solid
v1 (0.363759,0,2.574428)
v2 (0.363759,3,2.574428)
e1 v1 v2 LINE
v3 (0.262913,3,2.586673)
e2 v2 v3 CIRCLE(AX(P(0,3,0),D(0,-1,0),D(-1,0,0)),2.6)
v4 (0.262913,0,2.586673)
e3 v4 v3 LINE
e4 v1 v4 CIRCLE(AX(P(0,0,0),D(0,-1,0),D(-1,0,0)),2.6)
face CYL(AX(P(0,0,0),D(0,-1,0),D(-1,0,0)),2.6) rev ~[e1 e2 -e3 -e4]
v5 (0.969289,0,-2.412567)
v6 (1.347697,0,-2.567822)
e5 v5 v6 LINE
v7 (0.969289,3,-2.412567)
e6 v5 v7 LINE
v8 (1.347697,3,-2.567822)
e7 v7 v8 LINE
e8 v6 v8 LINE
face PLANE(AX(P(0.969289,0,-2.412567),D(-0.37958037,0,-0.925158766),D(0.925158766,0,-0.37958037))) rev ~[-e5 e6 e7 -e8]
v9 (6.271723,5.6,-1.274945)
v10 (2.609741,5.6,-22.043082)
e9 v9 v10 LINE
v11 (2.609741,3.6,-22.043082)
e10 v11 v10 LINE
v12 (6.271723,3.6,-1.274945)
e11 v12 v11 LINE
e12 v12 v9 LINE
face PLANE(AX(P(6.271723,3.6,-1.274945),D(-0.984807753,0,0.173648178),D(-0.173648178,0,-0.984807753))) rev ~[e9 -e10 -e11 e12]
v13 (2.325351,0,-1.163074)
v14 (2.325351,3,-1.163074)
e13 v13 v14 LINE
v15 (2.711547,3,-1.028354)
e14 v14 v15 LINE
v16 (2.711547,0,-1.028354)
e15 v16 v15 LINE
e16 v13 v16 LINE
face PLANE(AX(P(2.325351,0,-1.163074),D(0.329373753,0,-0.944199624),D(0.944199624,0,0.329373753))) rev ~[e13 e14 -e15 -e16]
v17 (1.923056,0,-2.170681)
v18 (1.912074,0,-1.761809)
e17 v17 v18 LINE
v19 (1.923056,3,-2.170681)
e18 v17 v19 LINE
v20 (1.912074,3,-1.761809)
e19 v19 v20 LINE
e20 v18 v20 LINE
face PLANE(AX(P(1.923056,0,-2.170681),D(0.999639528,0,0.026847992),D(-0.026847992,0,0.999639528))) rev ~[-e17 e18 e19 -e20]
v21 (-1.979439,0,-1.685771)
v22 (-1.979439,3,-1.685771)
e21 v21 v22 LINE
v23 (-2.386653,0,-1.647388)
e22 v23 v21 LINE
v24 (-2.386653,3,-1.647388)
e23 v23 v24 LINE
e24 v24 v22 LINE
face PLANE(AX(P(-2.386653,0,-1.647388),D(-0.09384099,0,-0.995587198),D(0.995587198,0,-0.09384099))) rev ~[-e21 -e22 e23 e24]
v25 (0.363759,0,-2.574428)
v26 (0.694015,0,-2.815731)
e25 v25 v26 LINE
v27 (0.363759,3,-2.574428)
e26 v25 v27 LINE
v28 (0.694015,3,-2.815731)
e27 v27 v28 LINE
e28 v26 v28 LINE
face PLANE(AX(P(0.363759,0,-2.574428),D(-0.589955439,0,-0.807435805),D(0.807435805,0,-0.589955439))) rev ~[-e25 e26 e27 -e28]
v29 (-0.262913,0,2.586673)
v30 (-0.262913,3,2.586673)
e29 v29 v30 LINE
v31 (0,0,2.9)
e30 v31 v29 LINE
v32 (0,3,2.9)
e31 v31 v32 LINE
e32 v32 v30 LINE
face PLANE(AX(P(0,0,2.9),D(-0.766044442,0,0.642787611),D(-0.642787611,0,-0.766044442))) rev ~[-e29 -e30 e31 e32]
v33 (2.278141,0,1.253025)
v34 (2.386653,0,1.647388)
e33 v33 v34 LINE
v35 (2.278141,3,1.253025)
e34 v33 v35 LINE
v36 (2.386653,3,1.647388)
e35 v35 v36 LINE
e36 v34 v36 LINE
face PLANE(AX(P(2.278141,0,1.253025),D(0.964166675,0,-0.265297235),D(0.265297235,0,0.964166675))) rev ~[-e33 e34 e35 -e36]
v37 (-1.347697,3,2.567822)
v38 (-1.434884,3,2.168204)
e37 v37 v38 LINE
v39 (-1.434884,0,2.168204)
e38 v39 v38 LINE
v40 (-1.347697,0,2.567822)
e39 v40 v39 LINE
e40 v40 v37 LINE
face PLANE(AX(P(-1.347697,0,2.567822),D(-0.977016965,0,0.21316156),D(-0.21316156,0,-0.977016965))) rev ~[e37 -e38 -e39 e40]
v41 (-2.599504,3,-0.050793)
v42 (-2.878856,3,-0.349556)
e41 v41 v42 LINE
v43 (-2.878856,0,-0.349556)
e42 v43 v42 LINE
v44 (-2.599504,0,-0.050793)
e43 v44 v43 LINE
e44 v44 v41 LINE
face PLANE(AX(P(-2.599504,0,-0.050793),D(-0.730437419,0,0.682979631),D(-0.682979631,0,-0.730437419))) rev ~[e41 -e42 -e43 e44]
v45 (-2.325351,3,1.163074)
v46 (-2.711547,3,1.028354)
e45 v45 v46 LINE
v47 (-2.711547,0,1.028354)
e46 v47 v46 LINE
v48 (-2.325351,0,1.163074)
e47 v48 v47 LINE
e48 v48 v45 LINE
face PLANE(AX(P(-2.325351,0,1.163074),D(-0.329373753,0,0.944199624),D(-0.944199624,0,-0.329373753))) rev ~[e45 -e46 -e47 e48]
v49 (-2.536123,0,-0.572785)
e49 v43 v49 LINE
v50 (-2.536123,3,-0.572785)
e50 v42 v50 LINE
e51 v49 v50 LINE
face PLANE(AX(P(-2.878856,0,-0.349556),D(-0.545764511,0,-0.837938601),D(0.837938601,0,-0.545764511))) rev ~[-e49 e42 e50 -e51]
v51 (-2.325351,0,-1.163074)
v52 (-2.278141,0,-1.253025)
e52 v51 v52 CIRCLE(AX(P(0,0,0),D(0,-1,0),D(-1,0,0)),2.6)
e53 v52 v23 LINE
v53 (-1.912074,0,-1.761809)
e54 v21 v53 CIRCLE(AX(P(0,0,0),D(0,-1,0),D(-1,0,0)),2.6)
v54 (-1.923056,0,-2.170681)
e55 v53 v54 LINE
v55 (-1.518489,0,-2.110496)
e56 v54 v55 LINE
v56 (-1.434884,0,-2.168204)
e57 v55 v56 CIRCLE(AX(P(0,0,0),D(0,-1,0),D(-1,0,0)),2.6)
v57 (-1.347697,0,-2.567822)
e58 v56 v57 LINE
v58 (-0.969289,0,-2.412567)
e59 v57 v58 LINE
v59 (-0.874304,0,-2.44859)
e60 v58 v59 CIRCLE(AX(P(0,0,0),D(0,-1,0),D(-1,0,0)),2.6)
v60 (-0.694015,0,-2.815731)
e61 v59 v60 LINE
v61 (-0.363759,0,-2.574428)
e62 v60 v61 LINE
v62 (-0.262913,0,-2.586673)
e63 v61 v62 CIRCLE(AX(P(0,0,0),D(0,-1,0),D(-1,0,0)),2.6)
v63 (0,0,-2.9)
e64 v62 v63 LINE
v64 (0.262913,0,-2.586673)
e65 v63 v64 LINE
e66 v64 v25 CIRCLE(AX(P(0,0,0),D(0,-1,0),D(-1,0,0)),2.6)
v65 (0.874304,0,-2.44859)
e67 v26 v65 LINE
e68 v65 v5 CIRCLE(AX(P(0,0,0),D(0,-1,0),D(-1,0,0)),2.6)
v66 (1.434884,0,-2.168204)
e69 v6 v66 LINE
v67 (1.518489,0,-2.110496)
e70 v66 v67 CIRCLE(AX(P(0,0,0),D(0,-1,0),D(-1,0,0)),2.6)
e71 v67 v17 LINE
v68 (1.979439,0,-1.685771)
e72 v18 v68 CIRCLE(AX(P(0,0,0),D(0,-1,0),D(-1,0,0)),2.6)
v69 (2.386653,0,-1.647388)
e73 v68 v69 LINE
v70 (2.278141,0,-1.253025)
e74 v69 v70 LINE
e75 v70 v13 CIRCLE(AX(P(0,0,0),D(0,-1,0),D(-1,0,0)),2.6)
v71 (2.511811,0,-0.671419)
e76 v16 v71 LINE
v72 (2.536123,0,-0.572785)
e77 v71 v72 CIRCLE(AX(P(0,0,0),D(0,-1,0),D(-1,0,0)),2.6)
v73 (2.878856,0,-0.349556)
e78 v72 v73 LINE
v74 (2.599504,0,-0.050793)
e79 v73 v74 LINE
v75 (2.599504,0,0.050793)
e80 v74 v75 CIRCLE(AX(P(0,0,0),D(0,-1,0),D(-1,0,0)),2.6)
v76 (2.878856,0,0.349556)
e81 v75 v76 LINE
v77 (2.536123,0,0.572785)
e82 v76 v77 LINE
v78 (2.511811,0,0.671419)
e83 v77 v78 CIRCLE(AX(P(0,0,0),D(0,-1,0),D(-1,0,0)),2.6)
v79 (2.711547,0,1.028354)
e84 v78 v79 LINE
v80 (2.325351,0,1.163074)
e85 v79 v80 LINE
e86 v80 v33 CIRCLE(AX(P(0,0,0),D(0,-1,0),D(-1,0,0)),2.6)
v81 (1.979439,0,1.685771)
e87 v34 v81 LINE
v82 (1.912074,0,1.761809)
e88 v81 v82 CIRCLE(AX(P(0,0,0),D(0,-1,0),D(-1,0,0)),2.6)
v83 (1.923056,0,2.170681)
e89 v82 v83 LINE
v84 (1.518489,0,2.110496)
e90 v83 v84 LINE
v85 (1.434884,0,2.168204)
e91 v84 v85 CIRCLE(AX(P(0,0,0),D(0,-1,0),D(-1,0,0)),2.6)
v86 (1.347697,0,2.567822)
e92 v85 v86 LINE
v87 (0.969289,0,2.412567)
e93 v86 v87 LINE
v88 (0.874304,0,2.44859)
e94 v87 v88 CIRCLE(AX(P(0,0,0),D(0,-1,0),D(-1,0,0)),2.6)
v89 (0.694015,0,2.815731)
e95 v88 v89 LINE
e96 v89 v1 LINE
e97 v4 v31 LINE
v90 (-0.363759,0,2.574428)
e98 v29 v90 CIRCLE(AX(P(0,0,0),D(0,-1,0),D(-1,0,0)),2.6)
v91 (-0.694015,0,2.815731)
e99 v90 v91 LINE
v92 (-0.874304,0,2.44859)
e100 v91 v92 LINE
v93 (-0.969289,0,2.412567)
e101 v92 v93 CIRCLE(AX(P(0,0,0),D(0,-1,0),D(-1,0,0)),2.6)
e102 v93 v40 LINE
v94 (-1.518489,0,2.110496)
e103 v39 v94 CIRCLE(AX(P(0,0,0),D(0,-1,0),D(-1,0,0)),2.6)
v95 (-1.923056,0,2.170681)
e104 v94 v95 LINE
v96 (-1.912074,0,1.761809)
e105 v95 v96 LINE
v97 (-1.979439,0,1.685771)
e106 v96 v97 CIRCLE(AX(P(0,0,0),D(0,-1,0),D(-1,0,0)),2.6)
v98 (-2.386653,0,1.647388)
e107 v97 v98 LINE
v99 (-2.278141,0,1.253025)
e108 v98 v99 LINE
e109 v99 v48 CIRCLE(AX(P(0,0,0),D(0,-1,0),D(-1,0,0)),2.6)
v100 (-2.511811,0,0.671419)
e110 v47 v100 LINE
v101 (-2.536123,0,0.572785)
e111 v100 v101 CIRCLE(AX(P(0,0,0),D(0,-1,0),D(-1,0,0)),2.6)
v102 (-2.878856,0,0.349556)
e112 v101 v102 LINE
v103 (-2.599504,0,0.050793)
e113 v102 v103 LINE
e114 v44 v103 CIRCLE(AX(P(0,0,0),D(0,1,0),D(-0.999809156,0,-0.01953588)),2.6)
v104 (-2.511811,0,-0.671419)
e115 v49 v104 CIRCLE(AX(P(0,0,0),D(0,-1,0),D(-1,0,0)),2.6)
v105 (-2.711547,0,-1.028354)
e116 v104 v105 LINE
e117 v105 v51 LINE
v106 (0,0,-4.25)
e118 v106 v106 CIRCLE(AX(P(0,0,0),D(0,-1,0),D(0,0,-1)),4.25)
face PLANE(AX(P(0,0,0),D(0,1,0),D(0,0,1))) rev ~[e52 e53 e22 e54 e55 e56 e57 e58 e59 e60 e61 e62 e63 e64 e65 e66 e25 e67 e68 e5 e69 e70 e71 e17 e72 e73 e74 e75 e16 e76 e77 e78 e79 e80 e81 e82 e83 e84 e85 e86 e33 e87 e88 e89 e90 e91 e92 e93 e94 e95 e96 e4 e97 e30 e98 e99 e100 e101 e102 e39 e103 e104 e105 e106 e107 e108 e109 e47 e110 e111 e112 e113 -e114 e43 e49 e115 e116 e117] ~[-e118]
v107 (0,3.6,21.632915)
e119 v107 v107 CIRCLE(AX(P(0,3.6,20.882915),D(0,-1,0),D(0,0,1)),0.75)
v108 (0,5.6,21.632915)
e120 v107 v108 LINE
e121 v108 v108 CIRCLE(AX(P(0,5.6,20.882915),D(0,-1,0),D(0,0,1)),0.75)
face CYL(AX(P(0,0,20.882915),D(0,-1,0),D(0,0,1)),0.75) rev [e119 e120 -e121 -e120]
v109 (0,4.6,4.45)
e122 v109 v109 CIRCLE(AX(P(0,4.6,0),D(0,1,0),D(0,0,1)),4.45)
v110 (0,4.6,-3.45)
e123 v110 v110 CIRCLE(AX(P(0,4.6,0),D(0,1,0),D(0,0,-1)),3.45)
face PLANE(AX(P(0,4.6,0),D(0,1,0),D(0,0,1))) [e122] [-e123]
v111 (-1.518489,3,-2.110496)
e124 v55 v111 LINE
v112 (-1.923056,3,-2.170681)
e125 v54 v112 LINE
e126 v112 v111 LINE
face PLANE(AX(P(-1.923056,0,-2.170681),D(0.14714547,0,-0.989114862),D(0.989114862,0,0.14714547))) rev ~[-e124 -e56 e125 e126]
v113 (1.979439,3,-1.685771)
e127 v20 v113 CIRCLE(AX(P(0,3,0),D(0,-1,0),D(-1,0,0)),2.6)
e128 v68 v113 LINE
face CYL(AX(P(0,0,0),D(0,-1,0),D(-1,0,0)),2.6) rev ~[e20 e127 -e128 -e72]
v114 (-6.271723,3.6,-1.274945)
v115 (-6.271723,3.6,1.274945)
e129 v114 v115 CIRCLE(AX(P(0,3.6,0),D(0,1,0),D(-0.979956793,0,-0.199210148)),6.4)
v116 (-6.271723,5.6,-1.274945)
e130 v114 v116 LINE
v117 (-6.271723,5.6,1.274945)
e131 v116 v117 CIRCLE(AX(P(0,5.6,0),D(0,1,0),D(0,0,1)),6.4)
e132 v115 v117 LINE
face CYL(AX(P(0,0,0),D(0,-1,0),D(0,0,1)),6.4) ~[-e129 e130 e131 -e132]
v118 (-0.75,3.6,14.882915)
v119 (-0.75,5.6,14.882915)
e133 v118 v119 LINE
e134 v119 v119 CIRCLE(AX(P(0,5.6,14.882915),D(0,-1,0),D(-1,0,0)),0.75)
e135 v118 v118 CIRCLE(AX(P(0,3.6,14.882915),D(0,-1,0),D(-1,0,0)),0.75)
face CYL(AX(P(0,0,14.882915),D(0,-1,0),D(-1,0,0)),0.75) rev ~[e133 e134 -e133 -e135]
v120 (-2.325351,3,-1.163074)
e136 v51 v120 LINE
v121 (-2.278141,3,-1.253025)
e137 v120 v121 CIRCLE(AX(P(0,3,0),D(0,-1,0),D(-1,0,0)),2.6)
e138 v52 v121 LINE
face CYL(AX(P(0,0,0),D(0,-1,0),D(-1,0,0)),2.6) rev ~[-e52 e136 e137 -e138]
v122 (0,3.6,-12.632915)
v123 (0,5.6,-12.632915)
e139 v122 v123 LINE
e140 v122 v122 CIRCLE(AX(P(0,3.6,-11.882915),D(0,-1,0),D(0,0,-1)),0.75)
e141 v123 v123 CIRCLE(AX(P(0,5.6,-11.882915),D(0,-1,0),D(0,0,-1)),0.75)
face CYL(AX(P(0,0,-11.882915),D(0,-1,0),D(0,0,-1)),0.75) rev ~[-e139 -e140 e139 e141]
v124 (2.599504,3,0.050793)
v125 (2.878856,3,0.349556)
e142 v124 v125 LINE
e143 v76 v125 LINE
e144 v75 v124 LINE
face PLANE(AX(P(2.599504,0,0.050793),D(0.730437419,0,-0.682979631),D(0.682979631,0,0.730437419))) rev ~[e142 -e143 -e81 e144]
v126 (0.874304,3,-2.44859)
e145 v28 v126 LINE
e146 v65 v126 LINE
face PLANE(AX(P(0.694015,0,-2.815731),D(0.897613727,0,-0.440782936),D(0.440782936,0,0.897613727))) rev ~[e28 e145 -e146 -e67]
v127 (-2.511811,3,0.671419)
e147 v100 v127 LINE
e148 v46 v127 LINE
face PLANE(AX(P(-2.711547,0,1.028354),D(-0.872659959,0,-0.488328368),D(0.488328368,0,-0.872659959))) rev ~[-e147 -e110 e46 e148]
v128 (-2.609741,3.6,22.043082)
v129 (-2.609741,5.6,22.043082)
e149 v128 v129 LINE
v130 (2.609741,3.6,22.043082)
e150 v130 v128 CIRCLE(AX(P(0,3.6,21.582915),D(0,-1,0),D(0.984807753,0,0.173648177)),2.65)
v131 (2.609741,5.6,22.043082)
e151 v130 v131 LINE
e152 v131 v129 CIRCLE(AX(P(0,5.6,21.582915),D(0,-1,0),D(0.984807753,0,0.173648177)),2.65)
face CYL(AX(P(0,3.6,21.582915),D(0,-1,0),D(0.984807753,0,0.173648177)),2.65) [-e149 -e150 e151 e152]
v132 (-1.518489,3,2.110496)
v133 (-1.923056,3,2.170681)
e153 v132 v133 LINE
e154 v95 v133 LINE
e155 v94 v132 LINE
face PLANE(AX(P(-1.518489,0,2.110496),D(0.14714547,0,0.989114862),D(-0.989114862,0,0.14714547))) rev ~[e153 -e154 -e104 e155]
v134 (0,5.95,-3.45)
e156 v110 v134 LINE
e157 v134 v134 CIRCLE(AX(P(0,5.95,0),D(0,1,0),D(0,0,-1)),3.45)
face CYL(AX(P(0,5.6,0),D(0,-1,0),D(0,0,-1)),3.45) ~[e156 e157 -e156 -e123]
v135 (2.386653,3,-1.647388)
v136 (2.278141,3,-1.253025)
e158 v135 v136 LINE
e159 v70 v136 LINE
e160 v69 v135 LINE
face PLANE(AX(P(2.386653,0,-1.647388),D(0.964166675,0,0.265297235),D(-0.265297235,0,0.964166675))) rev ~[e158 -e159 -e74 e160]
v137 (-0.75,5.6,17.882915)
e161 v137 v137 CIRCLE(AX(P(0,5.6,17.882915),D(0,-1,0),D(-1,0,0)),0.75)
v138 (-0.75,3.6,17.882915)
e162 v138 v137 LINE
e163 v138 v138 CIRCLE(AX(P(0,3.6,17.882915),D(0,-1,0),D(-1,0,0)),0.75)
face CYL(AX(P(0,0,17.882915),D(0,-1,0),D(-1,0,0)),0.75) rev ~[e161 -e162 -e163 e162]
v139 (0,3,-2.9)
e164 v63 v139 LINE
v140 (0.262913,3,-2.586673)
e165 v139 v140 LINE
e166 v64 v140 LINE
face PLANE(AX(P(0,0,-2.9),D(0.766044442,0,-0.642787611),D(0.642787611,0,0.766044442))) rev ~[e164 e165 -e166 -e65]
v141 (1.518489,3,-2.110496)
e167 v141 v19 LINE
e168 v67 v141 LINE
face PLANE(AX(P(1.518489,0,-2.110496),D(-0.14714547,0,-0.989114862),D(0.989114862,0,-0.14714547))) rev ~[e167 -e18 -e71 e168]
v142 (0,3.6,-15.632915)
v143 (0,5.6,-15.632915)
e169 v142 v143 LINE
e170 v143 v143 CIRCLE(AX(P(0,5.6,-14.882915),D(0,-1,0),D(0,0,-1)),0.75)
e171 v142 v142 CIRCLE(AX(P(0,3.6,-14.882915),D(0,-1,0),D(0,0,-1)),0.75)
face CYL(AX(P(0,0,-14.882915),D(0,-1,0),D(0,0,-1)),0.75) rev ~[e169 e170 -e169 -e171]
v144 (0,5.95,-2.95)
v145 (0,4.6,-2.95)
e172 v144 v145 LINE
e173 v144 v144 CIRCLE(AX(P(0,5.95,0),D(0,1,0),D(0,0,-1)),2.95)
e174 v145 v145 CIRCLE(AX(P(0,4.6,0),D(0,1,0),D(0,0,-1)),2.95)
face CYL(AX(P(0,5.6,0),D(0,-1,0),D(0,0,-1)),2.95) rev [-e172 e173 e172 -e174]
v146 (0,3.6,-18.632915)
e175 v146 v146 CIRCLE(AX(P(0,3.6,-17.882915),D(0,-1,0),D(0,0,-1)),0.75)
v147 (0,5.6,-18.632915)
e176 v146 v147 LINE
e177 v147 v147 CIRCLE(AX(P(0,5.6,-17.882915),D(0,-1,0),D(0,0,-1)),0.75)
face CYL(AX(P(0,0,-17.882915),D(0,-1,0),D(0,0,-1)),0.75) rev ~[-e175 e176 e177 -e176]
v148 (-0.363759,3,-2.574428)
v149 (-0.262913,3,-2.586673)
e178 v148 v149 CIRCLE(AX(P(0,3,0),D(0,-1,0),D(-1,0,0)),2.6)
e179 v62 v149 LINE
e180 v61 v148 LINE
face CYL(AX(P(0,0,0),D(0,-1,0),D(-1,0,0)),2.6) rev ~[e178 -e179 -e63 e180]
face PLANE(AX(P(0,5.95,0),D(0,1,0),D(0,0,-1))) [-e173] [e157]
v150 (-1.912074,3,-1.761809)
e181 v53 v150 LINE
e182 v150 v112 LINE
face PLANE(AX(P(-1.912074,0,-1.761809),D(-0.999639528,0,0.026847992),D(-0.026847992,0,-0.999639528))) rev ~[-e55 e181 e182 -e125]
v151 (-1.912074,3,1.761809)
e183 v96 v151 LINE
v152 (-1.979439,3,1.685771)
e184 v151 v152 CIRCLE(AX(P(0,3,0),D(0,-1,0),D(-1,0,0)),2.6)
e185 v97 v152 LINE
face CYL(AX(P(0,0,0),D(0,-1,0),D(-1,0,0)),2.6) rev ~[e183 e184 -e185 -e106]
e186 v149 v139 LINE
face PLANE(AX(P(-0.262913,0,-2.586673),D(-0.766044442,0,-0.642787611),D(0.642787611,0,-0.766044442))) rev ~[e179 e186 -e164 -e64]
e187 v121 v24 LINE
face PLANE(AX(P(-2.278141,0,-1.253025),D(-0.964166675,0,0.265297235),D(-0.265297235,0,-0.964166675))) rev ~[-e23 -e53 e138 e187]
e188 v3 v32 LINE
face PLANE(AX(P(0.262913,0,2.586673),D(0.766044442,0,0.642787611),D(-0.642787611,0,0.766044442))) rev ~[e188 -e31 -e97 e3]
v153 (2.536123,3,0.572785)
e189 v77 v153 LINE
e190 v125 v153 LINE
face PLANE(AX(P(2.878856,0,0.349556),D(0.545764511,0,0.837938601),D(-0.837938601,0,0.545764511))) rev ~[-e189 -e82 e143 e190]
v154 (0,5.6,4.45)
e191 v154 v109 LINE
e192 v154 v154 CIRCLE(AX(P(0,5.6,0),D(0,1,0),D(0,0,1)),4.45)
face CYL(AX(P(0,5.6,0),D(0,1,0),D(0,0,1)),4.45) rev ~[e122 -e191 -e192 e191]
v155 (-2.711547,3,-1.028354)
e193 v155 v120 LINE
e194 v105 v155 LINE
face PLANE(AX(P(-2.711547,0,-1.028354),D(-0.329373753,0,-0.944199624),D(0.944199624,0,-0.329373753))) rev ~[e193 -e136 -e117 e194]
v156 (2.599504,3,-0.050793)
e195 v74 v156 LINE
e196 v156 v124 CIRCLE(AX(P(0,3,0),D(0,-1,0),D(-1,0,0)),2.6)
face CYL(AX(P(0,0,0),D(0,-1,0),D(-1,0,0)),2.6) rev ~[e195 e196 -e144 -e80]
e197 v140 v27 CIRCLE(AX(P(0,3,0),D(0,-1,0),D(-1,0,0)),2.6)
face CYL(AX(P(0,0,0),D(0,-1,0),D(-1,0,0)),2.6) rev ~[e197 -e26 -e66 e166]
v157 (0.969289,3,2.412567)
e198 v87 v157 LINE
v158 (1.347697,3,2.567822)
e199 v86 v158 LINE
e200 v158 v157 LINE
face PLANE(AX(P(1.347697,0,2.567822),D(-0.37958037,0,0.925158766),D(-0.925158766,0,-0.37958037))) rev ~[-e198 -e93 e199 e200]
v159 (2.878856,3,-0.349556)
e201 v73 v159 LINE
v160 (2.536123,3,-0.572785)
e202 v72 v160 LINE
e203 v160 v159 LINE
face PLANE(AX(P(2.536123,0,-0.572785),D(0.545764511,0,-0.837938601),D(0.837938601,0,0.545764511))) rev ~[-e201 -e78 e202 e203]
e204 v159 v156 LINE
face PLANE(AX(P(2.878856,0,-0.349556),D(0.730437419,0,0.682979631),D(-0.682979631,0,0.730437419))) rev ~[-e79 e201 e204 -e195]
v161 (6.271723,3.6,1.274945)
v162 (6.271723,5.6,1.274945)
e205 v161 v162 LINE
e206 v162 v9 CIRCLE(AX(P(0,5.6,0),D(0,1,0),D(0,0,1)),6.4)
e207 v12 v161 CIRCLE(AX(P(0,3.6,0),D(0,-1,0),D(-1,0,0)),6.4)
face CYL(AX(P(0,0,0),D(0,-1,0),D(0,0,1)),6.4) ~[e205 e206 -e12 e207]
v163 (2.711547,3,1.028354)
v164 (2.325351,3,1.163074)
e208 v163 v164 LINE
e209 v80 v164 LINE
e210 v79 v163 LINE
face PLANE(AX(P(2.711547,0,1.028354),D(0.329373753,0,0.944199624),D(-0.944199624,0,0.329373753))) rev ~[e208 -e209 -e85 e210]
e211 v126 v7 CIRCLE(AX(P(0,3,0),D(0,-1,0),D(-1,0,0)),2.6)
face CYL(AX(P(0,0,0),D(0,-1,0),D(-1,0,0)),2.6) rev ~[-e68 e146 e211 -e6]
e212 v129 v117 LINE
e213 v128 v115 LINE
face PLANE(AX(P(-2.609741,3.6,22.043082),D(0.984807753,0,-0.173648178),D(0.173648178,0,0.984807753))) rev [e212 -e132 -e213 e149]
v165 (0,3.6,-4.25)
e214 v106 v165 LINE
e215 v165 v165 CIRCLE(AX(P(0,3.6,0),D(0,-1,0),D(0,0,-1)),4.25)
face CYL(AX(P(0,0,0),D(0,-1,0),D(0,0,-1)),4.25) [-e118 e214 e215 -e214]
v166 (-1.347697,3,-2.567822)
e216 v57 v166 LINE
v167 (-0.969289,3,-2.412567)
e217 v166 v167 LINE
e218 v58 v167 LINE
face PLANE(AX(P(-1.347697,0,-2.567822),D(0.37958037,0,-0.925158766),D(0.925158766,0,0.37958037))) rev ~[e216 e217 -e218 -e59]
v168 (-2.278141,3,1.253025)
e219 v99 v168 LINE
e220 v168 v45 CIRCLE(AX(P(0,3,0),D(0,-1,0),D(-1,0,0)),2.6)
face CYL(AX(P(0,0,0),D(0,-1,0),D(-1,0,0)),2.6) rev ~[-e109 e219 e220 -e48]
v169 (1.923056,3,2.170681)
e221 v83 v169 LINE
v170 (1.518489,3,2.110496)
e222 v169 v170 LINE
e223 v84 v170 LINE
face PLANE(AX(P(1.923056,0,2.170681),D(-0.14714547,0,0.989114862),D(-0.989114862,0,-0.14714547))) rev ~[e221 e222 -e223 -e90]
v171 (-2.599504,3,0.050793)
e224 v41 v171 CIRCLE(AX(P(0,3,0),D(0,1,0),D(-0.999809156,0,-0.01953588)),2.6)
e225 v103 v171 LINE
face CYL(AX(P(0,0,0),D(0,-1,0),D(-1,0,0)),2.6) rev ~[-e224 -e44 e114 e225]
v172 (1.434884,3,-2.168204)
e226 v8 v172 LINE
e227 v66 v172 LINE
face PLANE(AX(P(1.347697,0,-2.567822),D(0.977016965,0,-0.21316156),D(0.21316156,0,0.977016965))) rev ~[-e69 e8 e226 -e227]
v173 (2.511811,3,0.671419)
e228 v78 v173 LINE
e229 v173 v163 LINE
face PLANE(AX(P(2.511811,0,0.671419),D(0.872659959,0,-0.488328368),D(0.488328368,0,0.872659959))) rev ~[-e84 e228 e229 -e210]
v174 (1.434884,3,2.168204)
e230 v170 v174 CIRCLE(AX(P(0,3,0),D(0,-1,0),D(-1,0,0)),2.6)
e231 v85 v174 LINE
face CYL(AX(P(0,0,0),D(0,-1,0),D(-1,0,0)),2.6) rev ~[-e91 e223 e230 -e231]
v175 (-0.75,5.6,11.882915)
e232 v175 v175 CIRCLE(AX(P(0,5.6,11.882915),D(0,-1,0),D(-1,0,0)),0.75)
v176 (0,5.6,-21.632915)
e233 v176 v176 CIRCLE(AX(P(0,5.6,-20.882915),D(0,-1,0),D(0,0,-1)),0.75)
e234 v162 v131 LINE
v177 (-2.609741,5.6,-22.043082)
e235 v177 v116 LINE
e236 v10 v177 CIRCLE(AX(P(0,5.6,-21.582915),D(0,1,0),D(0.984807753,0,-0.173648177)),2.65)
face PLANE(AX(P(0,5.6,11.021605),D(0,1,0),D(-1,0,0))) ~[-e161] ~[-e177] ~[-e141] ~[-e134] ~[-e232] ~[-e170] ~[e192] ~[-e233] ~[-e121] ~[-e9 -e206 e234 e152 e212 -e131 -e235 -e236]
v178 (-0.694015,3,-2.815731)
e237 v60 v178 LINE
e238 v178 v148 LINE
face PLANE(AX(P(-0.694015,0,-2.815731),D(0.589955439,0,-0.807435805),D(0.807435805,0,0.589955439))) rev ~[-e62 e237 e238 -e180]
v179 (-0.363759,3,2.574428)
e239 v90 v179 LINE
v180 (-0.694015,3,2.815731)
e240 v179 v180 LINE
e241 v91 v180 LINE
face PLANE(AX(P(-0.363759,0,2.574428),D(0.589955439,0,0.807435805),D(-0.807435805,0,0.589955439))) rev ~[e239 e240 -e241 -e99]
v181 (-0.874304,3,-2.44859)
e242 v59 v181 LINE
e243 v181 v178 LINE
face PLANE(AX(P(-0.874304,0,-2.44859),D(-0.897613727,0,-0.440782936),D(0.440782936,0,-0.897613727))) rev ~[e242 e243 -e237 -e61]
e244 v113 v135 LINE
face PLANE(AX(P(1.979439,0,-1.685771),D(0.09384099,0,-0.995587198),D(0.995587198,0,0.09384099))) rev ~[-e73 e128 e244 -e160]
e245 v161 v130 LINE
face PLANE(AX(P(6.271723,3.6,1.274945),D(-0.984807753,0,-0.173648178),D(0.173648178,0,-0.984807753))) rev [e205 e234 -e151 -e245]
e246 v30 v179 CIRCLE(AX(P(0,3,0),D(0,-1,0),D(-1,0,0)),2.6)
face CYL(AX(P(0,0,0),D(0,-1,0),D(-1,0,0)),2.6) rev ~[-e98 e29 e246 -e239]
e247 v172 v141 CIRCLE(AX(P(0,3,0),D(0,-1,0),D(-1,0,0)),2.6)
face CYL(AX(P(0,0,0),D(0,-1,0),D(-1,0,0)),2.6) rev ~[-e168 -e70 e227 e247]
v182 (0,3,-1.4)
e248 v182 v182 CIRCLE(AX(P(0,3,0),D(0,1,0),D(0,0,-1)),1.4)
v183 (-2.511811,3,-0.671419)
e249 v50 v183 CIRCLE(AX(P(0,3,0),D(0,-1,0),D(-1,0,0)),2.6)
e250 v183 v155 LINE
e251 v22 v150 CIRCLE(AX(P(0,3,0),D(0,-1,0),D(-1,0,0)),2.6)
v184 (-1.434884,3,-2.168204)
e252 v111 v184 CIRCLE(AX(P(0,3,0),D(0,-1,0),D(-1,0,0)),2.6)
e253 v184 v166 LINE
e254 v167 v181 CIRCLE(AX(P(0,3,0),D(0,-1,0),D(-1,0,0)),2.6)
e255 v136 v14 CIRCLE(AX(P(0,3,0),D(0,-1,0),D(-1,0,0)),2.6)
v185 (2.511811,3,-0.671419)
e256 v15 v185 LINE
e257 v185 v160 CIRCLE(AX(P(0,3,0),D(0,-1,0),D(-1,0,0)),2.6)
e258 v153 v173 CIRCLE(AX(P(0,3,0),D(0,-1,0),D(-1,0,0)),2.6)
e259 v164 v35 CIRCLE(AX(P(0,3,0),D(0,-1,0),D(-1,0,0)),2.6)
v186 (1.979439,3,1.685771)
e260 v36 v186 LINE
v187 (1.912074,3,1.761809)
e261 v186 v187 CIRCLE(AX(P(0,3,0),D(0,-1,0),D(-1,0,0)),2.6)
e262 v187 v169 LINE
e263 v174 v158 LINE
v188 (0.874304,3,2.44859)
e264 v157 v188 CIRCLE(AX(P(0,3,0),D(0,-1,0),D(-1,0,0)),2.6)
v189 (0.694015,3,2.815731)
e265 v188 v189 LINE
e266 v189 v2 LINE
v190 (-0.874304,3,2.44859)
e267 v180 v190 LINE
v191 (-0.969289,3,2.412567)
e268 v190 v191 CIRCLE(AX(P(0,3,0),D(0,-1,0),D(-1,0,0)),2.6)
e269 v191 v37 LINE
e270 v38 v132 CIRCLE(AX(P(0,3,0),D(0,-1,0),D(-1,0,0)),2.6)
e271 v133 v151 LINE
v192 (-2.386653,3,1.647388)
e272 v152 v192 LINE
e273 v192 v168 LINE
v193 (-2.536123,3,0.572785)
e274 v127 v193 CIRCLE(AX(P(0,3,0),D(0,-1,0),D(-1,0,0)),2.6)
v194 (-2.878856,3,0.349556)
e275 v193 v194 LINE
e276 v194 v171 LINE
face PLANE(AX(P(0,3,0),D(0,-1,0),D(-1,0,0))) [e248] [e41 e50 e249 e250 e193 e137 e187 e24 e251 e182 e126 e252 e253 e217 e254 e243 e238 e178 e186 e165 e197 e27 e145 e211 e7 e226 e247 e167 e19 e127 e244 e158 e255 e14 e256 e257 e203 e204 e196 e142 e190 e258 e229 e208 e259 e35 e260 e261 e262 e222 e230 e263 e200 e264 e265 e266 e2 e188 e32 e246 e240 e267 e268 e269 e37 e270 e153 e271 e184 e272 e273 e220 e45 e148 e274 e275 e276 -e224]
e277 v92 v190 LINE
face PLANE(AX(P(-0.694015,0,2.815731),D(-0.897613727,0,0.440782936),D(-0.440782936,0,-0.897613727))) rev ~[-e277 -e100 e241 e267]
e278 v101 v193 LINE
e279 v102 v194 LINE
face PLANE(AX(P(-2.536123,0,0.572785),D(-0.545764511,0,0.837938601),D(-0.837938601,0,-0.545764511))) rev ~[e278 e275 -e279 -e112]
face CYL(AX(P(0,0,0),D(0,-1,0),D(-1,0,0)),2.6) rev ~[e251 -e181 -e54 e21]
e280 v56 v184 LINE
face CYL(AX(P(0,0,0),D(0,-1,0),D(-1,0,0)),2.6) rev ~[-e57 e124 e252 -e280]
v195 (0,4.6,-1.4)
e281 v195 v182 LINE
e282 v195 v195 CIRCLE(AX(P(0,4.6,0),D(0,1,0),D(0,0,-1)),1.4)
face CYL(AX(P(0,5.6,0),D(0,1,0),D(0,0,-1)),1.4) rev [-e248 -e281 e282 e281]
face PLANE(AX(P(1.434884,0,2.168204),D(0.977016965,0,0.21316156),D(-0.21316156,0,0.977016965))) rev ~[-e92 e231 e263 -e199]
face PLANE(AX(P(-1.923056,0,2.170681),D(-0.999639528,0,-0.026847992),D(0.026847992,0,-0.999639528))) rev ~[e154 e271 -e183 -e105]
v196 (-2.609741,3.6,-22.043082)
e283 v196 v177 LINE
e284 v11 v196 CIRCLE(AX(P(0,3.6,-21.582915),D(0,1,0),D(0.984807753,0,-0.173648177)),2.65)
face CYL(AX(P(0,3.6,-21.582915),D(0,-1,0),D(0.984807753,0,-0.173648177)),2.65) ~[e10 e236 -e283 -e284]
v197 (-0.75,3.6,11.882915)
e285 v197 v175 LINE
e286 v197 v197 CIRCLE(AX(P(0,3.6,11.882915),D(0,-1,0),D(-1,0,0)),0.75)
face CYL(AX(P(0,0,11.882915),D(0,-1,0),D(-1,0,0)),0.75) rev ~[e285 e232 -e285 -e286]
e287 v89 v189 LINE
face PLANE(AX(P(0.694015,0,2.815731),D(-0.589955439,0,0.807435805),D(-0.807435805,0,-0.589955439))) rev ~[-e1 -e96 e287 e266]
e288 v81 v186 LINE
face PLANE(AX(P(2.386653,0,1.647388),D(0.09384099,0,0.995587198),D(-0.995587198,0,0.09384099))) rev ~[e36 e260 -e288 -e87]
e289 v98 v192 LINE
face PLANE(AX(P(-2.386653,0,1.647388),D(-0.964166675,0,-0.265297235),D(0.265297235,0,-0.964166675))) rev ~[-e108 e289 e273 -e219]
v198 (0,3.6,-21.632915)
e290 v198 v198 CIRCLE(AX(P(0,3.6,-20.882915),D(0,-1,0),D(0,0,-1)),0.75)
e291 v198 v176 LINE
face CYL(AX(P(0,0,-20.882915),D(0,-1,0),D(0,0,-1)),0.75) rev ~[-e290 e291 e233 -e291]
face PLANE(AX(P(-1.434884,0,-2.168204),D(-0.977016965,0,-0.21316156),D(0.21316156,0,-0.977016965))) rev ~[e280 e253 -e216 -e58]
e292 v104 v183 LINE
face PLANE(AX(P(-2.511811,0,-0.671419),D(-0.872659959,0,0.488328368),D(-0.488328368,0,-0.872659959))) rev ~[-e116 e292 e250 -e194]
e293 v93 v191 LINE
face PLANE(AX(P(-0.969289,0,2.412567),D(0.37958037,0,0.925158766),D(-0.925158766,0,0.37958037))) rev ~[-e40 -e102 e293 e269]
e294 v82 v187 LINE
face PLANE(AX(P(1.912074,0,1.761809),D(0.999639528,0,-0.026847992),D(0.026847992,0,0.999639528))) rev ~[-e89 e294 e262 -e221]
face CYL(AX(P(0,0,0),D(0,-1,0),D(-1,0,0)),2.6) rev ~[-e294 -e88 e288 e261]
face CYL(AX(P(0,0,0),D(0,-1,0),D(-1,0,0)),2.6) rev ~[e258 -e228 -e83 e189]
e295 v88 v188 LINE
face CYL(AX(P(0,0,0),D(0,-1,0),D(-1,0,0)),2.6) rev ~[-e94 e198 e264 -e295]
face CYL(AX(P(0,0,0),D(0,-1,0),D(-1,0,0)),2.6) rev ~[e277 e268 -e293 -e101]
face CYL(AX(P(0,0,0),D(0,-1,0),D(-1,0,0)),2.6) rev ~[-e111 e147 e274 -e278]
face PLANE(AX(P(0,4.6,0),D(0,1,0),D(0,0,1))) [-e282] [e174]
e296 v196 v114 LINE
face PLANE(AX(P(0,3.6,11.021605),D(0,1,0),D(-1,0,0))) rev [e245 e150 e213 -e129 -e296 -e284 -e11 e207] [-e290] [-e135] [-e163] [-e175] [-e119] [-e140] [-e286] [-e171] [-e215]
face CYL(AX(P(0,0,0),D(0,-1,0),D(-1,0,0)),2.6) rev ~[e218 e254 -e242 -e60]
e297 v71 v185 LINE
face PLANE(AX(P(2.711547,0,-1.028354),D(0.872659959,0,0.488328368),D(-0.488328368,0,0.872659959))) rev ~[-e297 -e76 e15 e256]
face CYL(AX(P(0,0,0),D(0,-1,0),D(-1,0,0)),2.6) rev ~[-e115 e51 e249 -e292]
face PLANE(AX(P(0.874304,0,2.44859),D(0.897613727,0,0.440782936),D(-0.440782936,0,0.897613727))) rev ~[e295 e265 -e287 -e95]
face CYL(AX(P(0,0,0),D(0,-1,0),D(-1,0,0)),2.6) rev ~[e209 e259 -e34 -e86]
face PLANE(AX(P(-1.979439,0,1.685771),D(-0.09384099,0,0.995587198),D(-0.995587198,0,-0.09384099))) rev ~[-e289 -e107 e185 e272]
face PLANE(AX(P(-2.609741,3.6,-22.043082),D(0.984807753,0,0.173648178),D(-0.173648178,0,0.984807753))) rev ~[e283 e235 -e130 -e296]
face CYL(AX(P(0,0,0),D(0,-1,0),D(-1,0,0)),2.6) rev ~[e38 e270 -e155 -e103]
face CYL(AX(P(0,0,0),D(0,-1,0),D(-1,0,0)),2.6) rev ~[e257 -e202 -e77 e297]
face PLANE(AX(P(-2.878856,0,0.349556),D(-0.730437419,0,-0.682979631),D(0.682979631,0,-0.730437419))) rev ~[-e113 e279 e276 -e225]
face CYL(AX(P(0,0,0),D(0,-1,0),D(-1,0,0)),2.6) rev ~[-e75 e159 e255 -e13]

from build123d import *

# Parameters (mm, degrees)
SKETCH1_R               = 6.4
BOSS_EXTRUDE1_DEPTH     = 5.6
HORN_START              = -2
HORN_DEPTH              = 2
SKETCH4_R               = 1.4
CUT_EXTRUDE1_DEPTH      = 26.681786257
SKETCH5_R               = 0.75
CUT_EXTRUDE2_DEPTH      = 26.681786257
LPATTERN1_COUNT         = 4
LPATTERN1_PITCH         = 3
MIRROR1_COPY_1_SKETCH_R = 0.75
MIRROR1_COPY_1_DEPTH    = 26.681786257
MIRROR1_COPY_2_SKETCH_R = 0.75
MIRROR1_COPY_2_DEPTH    = 26.681786257
MIRROR1_COPY_3_SKETCH_R = 0.75
MIRROR1_COPY_3_DEPTH    = 26.681786257
CUT_EXTRUDE4_DEPTH      = 3
CIRPATTERN2_COUNT       = 26
SKETCH9_R               = 2.6
CUT_EXTRUDE5_DEPTH      = 3
SKETCH10_R              = 6.4
SKETCH10_R_2            = 4.25
CUT_EXTRUDE6_DEPTH      = 3.6
SKETCH12_R              = 4.45
CUT_EXTRUDE7_DEPTH      = 1
SKETCH13_R              = 3.45
SKETCH13_R_2            = 2.95
BOSS_EXTRUDE6_DEPTH     = 1
SKETCH14_R              = 3.45
SKETCH14_R_2            = 2.95
BOSS_EXTRUDE7_DEPTH     = 0.35


with BuildPart() as part:
    # Sketch1 → Boss-Extrude1 (new body)
    with BuildSketch(Plane(origin=(0, 0, 0), x_dir=(1, 0, 0), z_dir=(0, 1, 0))):
        with Locations(Location((0, 0, 0), (0, 0, 270))):
            Circle(SKETCH1_R)
    extrude(amount=BOSS_EXTRUDE1_DEPTH)

    # Sketch2 → horn (add)
    with BuildSketch(Plane(origin=(0, 5.6, 0), x_dir=(1, 0, 0), z_dir=(0, 1, 0)).offset(HORN_START)):
        with BuildLine():
            Line((-2.609740545, 22.043082174), (-6.271723477, 1.27494495))
            ThreePointArc((-6.271723477, 1.27494495), (0, 6.4), (6.271723477, 1.27494495))
            Line((6.271723477, 1.27494495), (2.609740545, 22.043082174))
            ThreePointArc((2.609740545, 22.043082174), (0, 24.232914504), (-2.609740545, 22.043082174))
        make_face()
    horn = extrude(amount=HORN_DEPTH)

    # Sketch4 → Cut-Extrude1 (cut, through all)
    with BuildSketch(Plane(origin=(0, 5.6, 0), x_dir=(-1, 0, 0), z_dir=(0, -1, 0))):
        with Locations(Location((0, 0, 0), (0, 0, 90))):
            Circle(SKETCH4_R)
    extrude(amount=CUT_EXTRUDE1_DEPTH, mode=Mode.SUBTRACT)

    # Sketch5 → Cut-Extrude2 (cut, through all)
    with BuildSketch(Plane(origin=(0, 0, 0), x_dir=(-1, 0, 0), z_dir=(0, -1, 0))):
        with Locations(Location((0, 20.882914504, 0), (0, 0, 90))):
            Circle(SKETCH5_R)
    cut_extrude2 = extrude(amount=-CUT_EXTRUDE2_DEPTH, mode=Mode.SUBTRACT)

    # LPattern1: Cut-Extrude2 ×4
    with Locations(*[(0, 0, i * LPATTERN1_PITCH) for i in range(1, LPATTERN1_COUNT)]):
        add(cut_extrude2, mode=Mode.SUBTRACT)

    # Mirror1: horn, Cut-Extrude2 across plane
    add(horn.mirror(Plane.XY))
    add(cut_extrude2.mirror(Plane.XY), mode=Mode.SUBTRACT)

    # Mirror1 copy 1 sketch → Mirror1 copy 1 (cut, through all)
    with BuildSketch(Plane(origin=(0, 0, -3), x_dir=(-1, 0, 0), z_dir=(0, -1, 0))):
        with Locations((0, -20.882914504)):
            Circle(MIRROR1_COPY_1_SKETCH_R)
    extrude(amount=-MIRROR1_COPY_1_DEPTH, mode=Mode.SUBTRACT)

    # Mirror1 copy 2 sketch → Mirror1 copy 2 (cut, through all)
    with BuildSketch(Plane(origin=(0, 0, -6), x_dir=(-1, 0, 0), z_dir=(0, -1, 0))):
        with Locations((0, -20.882914504)):
            Circle(MIRROR1_COPY_2_SKETCH_R)
    extrude(amount=-MIRROR1_COPY_2_DEPTH, mode=Mode.SUBTRACT)

    # Mirror1 copy 3 sketch → Mirror1 copy 3 (cut, through all)
    with BuildSketch(Plane(origin=(0, 0, -9), x_dir=(-1, 0, 0), z_dir=(0, -1, 0))):
        with Locations((0, -20.882914504)):
            Circle(MIRROR1_COPY_3_SKETCH_R)
    extrude(amount=-MIRROR1_COPY_3_DEPTH, mode=Mode.SUBTRACT)

    # Sketch8 → Cut-Extrude4 (cut)
    with BuildSketch(Plane(origin=(0, 0, 0), x_dir=(-1, 0, 0), z_dir=(0, -1, 0))):
        with BuildLine():
            Line((0, -2.9), (0.262912611, -2.586672952))
            ThreePointArc((0.262912611, -2.586672952), (0, -2.6), (-0.262912611, -2.586672952))
            Line((-0.262912611, -2.586672952), (0, -2.9))
        make_face()
    cut_extrude4 = extrude(amount=-CUT_EXTRUDE4_DEPTH, mode=Mode.SUBTRACT)

    # CirPattern2: Cut-Extrude4 ×26 about axis
    cirpattern2_axis = Axis((0, 0, 0), (0, 1, 0))
    for i in range(1, CIRPATTERN2_COUNT):
        add(cut_extrude4.rotate(cirpattern2_axis, i * 360 / CIRPATTERN2_COUNT), mode=Mode.SUBTRACT)

    # Sketch9 → Cut-Extrude5 (cut)
    with BuildSketch(Plane(origin=(0, 0, 0), x_dir=(-1, 0, 0), z_dir=(0, -1, 0))):
        Circle(SKETCH9_R)
    extrude(amount=-CUT_EXTRUDE5_DEPTH, mode=Mode.SUBTRACT)

    # Sketch10 → Cut-Extrude6 (cut)
    with BuildSketch(Plane(origin=(0, 0, 0), x_dir=(-1, 0, 0), z_dir=(0, -1, 0))):
        Circle(SKETCH10_R)
        with Locations(Location((0, 0, 0), (0, 0, 90))):
            Circle(SKETCH10_R_2, mode=Mode.SUBTRACT)
    extrude(amount=-CUT_EXTRUDE6_DEPTH, mode=Mode.SUBTRACT)

    # Sketch12 → Cut-Extrude7 (cut)
    with BuildSketch(Plane(origin=(0, 5.6, 0), x_dir=(1, 0, 0), z_dir=(0, 1, 0))):
        with Locations(Location((0, 0, 0), (0, 0, 270))):
            Circle(SKETCH12_R)
    extrude(amount=-CUT_EXTRUDE7_DEPTH, mode=Mode.SUBTRACT)

    # Sketch13 → Boss-Extrude6 (add)
    with BuildSketch(Plane(origin=(0, 4.6, 0), x_dir=(1, 0, 0), z_dir=(0, 1, 0))):
        with Locations(Location((0, 0, 0), (0, 0, 90))):
            Circle(SKETCH13_R)
        with Locations(Location((0, 0, 0), (0, 0, 90))):
            Circle(SKETCH13_R_2, mode=Mode.SUBTRACT)
    extrude(amount=BOSS_EXTRUDE6_DEPTH)

    # Sketch14 → Boss-Extrude7 (add)
    with BuildSketch(Plane(origin=(0, 5.6, 0), x_dir=(1, 0, 0), z_dir=(0, 1, 0))):
        with Locations(Location((0, 0, 0), (0, 0, 90))):
            Circle(SKETCH14_R)
        with Locations(Location((0, 0, 0), (0, 0, 90))):
            Circle(SKETCH14_R_2, mode=Mode.SUBTRACT)
    extrude(amount=BOSS_EXTRUDE7_DEPTH)


solid = part.part
